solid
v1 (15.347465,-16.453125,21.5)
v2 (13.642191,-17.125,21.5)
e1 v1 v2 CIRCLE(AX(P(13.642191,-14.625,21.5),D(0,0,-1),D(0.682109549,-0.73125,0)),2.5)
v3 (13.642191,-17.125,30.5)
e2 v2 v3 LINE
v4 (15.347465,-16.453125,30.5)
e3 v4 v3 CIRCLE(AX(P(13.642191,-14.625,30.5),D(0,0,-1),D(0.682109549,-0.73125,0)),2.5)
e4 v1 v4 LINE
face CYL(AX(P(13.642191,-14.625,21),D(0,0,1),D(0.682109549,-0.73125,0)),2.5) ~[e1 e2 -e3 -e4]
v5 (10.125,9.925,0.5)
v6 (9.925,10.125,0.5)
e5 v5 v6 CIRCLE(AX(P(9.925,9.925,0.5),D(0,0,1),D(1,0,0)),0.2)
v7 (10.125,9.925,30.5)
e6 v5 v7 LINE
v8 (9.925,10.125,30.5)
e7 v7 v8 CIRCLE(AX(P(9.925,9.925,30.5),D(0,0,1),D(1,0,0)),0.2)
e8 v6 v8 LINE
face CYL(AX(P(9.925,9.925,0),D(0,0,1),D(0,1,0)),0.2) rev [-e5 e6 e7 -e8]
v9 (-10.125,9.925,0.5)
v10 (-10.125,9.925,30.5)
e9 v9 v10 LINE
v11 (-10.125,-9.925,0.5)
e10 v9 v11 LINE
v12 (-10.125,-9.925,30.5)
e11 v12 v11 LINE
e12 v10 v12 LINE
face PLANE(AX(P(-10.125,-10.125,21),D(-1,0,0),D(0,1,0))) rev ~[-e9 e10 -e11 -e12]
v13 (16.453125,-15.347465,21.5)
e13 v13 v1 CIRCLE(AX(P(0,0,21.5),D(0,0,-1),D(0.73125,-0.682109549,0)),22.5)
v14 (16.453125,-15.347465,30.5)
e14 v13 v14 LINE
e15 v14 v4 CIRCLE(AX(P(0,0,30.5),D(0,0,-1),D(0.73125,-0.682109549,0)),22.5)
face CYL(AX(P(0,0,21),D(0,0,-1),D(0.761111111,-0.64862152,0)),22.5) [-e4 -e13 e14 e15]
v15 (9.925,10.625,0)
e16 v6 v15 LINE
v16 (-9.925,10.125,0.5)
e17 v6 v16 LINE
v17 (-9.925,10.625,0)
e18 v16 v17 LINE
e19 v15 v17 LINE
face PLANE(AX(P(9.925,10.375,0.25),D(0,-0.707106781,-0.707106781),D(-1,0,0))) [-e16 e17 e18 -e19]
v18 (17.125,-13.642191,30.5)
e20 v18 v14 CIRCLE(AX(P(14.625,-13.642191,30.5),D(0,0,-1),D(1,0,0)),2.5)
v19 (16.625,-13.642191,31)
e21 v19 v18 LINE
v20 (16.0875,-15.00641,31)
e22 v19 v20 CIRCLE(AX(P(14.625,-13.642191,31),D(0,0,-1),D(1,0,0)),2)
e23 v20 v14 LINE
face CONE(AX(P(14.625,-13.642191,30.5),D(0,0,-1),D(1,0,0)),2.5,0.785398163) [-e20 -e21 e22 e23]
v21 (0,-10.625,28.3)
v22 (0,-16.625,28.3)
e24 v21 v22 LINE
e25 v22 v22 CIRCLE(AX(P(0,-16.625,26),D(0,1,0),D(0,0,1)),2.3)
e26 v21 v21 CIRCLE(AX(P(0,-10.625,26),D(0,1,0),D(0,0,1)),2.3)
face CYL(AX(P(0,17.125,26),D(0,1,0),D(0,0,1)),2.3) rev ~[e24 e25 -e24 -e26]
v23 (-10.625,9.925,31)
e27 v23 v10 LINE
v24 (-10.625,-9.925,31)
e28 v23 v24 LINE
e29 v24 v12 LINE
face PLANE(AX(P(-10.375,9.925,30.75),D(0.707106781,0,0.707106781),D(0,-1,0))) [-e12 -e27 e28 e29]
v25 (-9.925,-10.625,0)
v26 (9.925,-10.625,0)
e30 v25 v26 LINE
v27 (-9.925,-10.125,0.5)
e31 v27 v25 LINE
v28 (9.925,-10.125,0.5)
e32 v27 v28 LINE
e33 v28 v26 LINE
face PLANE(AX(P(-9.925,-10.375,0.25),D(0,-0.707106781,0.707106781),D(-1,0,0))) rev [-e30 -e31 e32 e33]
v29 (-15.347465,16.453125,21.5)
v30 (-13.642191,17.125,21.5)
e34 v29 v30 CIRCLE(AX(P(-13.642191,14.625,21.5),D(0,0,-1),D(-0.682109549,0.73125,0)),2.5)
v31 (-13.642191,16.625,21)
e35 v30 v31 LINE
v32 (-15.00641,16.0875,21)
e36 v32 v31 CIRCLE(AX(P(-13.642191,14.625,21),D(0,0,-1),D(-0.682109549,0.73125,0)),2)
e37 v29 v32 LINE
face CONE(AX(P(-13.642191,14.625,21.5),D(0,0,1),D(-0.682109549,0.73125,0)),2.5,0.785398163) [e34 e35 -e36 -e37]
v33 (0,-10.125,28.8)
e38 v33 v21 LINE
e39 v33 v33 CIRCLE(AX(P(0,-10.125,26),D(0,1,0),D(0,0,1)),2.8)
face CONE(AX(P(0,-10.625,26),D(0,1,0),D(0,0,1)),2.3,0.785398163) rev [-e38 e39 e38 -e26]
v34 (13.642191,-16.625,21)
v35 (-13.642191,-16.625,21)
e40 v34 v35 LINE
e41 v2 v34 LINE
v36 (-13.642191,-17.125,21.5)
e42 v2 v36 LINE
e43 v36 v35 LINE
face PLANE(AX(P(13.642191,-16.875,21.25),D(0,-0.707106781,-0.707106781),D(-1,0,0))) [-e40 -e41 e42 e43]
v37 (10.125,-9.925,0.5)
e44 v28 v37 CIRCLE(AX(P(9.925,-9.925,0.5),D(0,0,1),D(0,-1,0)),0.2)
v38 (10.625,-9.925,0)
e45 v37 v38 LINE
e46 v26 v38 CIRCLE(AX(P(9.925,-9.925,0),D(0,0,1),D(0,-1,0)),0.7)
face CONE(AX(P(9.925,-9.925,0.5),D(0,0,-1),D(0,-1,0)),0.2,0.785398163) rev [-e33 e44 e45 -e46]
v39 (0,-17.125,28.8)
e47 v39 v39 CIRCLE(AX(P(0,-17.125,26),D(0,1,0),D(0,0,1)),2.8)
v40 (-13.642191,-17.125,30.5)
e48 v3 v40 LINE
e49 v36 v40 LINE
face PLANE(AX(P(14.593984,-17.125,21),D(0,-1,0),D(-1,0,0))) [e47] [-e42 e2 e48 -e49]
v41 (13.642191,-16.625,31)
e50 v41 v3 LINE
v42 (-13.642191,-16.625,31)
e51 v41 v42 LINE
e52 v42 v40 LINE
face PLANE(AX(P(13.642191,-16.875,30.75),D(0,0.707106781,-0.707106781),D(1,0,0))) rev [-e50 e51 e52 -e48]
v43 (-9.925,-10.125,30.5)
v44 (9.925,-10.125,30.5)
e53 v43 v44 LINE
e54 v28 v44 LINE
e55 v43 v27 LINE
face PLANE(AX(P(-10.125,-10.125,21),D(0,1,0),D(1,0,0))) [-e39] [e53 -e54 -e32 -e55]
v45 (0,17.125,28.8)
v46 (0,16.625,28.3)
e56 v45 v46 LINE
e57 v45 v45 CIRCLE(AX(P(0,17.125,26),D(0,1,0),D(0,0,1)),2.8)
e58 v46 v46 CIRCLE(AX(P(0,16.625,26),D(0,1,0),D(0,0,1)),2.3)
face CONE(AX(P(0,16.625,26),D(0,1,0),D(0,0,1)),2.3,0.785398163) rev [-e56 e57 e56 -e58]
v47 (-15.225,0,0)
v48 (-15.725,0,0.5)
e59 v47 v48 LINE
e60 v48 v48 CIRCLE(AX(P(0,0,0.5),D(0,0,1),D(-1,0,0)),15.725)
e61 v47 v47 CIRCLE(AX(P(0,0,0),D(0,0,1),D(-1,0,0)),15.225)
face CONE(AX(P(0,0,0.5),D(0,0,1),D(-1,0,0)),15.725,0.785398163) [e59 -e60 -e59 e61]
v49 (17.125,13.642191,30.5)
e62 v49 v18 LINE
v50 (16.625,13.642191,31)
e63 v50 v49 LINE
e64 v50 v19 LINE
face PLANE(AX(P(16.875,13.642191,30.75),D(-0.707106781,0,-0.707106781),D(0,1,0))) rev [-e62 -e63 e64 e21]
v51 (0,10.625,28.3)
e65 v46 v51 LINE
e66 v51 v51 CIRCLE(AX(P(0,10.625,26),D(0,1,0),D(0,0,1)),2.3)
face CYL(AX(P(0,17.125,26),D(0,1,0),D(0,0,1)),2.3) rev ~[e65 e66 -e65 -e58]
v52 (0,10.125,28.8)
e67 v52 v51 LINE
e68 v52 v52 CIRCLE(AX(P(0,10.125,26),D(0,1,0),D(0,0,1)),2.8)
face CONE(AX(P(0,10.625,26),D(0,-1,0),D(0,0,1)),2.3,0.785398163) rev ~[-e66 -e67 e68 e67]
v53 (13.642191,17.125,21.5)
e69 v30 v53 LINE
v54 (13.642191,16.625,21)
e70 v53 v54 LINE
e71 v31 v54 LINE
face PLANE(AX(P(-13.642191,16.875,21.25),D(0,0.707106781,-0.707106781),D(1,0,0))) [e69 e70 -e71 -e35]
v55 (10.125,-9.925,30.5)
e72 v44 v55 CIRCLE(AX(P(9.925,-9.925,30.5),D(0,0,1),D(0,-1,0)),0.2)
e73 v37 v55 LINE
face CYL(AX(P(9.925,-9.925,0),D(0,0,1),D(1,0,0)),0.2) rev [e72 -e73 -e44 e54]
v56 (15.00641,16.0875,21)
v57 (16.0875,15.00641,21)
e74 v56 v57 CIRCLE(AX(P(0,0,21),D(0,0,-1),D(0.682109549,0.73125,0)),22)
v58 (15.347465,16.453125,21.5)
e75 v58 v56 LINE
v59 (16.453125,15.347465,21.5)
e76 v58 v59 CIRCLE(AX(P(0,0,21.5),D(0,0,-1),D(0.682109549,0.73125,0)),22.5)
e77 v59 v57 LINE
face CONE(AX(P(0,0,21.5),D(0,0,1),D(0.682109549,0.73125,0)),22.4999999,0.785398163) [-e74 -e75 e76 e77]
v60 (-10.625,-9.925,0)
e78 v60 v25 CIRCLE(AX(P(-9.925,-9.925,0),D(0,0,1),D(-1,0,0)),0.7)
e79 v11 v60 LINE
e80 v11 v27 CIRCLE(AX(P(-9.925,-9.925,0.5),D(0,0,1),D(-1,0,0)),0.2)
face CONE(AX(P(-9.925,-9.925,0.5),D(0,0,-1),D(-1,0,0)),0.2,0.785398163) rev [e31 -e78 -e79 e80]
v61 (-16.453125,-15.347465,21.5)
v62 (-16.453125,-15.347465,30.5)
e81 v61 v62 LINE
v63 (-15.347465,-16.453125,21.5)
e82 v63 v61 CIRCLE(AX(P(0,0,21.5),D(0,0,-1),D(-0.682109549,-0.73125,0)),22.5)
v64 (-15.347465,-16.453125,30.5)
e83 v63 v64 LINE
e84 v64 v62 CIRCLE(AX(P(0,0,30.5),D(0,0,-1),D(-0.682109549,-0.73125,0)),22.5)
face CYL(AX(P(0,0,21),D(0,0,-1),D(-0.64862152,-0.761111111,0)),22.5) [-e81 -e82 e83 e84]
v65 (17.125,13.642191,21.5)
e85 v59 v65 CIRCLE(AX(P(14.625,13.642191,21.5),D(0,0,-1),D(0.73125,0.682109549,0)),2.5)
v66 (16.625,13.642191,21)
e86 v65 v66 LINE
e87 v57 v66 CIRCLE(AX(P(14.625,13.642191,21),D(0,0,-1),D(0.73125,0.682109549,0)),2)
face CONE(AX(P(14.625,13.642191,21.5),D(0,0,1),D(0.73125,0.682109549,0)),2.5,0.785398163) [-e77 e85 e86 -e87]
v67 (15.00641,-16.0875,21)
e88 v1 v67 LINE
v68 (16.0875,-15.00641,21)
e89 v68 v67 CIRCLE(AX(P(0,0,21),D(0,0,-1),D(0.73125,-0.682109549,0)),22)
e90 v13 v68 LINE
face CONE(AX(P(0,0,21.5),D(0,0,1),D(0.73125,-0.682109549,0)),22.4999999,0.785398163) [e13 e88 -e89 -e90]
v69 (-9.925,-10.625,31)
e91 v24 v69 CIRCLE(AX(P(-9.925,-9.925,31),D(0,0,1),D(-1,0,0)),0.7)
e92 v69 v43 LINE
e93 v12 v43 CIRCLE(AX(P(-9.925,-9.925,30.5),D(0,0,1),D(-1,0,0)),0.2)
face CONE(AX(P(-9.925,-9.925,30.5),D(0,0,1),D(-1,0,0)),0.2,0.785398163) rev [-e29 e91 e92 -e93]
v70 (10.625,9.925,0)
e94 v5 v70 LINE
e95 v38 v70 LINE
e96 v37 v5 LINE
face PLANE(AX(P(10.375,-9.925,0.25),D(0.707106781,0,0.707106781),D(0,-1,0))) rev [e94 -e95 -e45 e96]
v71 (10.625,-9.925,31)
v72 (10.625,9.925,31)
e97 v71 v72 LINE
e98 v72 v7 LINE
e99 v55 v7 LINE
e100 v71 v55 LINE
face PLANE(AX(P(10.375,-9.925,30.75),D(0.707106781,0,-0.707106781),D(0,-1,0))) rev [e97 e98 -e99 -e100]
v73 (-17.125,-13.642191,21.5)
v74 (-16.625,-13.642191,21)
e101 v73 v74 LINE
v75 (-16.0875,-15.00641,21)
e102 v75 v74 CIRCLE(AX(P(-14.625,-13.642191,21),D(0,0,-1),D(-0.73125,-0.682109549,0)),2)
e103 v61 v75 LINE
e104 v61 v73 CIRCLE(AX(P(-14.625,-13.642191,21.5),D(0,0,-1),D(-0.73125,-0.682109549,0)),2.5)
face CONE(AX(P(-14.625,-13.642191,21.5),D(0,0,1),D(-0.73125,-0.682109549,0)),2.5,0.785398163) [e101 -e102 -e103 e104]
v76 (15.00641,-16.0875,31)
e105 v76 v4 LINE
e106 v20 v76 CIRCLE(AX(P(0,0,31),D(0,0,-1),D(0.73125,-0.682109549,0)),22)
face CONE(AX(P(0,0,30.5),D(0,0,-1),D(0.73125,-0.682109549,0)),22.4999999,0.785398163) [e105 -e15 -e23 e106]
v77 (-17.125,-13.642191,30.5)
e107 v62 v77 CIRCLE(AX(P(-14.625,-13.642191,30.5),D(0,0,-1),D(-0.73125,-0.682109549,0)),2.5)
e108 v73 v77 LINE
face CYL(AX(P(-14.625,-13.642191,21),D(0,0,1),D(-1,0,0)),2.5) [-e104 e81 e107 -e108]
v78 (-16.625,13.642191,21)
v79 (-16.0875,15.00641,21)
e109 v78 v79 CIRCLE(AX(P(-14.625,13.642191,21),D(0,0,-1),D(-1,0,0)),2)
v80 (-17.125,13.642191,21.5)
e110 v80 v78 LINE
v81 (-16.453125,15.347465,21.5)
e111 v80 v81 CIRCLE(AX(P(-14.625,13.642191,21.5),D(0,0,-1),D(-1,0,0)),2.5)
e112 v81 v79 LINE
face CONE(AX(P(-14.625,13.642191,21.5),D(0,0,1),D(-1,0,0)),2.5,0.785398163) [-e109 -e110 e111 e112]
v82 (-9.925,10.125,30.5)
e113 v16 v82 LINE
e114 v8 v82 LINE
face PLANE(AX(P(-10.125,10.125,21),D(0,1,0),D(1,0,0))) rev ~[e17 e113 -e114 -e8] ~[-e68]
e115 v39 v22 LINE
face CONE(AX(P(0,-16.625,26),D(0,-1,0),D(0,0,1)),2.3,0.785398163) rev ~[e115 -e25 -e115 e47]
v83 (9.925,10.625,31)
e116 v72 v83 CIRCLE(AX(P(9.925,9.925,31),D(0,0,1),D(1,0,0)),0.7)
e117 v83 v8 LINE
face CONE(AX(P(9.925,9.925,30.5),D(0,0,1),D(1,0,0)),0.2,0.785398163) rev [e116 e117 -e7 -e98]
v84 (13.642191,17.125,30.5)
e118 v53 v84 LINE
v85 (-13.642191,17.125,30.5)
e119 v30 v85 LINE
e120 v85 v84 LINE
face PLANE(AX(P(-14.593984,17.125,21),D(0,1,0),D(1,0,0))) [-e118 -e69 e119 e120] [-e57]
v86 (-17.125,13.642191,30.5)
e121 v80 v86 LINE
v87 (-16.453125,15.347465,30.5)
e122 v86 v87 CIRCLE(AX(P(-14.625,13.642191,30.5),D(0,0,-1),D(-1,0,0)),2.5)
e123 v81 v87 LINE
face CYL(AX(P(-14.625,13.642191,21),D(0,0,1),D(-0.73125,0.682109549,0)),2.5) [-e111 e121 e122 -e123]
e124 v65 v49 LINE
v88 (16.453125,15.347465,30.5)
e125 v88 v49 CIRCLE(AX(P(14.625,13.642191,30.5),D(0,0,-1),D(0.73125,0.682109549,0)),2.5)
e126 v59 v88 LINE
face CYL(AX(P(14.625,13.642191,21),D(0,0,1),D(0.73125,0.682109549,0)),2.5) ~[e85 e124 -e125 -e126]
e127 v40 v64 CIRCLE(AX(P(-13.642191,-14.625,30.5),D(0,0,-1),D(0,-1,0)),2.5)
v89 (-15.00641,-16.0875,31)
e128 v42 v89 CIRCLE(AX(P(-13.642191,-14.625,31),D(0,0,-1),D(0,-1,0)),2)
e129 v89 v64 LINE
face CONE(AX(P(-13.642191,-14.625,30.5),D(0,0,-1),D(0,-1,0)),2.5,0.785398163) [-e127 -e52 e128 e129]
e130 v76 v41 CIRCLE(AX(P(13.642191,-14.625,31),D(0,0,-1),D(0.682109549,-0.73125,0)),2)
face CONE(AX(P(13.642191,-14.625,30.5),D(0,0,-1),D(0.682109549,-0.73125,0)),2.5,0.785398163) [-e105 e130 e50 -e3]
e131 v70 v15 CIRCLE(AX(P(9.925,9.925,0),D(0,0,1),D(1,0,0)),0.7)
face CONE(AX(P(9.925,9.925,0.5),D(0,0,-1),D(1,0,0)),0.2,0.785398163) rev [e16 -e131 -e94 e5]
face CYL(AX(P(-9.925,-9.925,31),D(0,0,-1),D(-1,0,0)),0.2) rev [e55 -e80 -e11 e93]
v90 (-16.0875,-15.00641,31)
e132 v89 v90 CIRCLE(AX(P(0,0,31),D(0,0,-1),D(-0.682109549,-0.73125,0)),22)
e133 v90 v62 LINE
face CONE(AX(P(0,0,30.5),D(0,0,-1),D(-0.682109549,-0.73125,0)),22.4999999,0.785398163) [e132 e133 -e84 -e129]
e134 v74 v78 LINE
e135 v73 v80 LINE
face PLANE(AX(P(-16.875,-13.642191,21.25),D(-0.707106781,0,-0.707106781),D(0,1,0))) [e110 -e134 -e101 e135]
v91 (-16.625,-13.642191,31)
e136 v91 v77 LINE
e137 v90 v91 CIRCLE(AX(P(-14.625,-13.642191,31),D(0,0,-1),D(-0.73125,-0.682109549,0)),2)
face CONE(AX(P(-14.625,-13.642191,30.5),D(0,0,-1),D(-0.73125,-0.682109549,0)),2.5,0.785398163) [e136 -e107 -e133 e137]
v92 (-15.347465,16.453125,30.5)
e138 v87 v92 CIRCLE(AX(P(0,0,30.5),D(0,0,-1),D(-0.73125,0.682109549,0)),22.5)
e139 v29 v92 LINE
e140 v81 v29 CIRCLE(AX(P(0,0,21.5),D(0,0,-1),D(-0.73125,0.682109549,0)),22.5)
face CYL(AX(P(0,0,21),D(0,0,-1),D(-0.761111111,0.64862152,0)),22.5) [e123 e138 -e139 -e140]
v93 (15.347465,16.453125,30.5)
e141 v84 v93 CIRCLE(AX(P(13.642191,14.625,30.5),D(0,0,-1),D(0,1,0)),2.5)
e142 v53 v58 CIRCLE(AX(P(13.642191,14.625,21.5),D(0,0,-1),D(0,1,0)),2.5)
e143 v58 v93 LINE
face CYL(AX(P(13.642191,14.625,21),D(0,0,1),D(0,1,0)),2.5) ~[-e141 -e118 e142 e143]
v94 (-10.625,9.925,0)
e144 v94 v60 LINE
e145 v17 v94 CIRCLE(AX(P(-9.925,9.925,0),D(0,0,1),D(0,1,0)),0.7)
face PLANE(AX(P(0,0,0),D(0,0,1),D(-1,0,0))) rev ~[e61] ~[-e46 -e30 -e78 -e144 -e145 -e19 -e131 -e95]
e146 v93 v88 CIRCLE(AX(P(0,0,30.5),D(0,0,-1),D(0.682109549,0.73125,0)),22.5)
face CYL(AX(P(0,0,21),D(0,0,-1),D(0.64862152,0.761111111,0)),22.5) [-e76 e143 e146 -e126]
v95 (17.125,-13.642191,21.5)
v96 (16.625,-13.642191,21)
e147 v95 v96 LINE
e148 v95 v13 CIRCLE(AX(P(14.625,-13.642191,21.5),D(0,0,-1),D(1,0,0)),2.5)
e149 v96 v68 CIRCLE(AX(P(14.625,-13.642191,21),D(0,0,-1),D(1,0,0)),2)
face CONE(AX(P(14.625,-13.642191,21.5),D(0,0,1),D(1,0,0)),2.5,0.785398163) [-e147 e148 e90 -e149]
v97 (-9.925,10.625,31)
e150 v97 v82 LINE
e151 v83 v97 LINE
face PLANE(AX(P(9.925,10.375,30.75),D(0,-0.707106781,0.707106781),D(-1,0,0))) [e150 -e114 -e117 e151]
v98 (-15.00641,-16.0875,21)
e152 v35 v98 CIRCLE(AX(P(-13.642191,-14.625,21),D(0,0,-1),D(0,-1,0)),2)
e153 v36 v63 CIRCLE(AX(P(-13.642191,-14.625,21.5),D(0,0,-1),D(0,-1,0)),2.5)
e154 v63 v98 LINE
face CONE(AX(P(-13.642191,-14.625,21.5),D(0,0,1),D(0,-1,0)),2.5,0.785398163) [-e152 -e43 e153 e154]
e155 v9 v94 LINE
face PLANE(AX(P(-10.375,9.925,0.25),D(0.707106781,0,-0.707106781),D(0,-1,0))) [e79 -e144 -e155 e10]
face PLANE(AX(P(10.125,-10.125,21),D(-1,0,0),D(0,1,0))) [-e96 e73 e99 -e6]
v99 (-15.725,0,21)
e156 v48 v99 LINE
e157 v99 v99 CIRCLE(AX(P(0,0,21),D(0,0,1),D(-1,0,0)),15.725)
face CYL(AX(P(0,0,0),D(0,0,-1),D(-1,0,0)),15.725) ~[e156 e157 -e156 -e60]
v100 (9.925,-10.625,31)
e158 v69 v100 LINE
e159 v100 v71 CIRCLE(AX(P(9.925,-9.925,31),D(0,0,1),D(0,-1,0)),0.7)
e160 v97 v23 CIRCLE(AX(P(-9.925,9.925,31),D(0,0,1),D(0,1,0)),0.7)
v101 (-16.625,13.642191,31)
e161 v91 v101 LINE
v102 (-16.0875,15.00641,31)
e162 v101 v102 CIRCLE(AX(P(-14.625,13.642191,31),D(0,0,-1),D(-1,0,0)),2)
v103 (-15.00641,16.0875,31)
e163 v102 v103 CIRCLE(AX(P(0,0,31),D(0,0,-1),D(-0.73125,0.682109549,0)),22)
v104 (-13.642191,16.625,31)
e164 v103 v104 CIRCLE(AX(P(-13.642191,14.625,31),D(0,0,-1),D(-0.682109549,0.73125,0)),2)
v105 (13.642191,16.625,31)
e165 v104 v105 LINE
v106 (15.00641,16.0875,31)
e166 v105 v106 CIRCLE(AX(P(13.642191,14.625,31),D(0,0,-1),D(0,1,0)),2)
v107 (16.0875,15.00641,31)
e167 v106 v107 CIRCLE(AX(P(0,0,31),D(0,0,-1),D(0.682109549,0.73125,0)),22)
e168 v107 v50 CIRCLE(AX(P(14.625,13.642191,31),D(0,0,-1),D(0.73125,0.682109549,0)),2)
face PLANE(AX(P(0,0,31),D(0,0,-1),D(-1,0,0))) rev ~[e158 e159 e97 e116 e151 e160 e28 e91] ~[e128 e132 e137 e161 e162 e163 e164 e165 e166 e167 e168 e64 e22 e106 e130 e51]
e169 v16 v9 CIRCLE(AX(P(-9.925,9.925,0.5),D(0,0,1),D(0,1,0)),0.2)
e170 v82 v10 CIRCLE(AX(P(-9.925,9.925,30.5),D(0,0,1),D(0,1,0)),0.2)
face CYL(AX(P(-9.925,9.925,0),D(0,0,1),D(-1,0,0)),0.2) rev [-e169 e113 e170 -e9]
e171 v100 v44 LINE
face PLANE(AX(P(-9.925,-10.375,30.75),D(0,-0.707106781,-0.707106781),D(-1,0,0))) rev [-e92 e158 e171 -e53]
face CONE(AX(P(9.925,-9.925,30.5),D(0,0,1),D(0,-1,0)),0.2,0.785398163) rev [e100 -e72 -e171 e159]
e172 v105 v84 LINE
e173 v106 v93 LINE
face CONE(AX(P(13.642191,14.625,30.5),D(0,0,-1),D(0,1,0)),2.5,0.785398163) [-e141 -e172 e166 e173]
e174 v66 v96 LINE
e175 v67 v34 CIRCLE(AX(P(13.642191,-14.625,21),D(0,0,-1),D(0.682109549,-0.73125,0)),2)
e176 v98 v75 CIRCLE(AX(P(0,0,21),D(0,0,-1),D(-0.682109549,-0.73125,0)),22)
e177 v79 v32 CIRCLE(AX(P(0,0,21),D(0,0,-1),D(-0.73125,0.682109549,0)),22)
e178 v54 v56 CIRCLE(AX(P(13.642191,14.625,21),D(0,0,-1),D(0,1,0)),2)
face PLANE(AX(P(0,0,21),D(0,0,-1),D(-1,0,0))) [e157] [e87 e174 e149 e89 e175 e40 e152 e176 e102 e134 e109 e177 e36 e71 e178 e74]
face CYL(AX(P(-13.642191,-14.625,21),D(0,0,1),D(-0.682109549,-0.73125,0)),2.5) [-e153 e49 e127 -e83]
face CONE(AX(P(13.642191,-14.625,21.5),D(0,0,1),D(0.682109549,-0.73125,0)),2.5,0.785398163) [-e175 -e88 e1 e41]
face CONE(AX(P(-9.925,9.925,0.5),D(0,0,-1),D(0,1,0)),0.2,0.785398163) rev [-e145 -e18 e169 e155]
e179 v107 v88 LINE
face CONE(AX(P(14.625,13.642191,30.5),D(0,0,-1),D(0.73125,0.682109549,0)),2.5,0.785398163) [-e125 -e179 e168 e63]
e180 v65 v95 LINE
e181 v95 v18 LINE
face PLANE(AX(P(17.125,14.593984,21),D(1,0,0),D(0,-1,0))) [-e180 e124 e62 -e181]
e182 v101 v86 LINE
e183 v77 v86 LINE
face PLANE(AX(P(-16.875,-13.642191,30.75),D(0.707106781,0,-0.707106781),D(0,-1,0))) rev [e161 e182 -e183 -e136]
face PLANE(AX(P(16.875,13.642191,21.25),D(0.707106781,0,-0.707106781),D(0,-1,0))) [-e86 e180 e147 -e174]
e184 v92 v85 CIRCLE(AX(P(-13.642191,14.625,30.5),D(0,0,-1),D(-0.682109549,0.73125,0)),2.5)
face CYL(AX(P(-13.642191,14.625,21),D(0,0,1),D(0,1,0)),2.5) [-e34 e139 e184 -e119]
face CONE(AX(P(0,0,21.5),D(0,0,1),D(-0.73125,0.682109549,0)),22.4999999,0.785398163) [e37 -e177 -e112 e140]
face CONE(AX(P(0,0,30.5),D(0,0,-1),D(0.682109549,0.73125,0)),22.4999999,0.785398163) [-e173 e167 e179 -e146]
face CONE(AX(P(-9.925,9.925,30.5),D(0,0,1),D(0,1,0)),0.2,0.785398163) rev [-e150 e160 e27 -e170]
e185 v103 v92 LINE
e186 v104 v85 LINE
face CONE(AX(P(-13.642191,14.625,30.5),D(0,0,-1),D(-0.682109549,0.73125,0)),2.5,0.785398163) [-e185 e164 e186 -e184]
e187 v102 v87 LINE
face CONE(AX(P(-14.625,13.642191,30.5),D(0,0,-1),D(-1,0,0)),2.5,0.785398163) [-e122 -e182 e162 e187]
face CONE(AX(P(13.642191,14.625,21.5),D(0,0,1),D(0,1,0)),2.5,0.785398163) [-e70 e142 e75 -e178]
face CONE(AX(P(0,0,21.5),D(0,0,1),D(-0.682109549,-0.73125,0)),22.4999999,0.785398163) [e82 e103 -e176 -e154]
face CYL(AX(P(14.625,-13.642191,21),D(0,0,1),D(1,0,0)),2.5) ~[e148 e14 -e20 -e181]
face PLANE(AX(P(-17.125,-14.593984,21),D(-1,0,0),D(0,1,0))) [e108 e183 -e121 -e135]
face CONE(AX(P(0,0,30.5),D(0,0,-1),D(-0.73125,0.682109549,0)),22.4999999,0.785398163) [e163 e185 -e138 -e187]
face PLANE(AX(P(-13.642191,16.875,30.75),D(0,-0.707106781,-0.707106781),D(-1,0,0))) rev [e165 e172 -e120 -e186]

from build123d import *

# Parameters (mm, degrees)
SKIZZE1_R                       = 15.725
SKIZZE1_W                       = 20.25
SKIZZE1_H                       = 20.25
AUFSATZ_LINEAR_AUSTRAGEN1_DEPTH = 21
SKIZZE2_W                       = 20.25
SKIZZE2_H                       = 20.25
AUFSATZ_LINEAR_AUSTRAGEN2_DEPTH = 10
SKIZZE3_R                       = 2.3
SCHNITT_LINEAR_AUSTRAGEN1_DEPTH = 50.267921866
VERRUNDUNG1_R                   = 0.2
VERRUNDUNG2_R                   = 2.5
FASE1_SIZE                      = 0.5
FASE4_SIZE                      = 0.5


with BuildPart() as part:
    # Skizze1 → Aufsatz-Linear austragen1 (new body)
    with BuildSketch(Plane.XY):
        with Locations(Location((0, 0, 0), (0, 0, 180))):
            Circle(SKIZZE1_R)
        Rectangle(SKIZZE1_W, SKIZZE1_H, mode=Mode.SUBTRACT)
    extrude(amount=AUFSATZ_LINEAR_AUSTRAGEN1_DEPTH)

    # Skizze2 → Aufsatz-Linear austragen2 (add)
    with BuildSketch(Plane.XY.offset(21)):
        with BuildLine():
            Line((-14.593984206, 17.125), (14.593984206, 17.125))
            ThreePointArc((14.593984206, 17.125), (15.909902577, 15.909902577), (17.125, 14.593984206))
            Line((17.125, 14.593984206), (17.125, -14.593984206))
            ThreePointArc((17.125, -14.593984206), (15.909902577, -15.909902577), (14.593984206, -17.125))
            Line((14.593984206, -17.125), (-14.593984206, -17.125))
            ThreePointArc((-14.593984206, -17.125), (-15.909902577, -15.909902577), (-17.125, -14.593984206))
            Line((-17.125, -14.593984206), (-17.125, 14.593984206))
            ThreePointArc((-17.125, 14.593984206), (-15.909902577, 15.909902577), (-14.593984206, 17.125))
        make_face()
        Rectangle(SKIZZE2_W, SKIZZE2_H, mode=Mode.SUBTRACT)
    extrude(amount=AUFSATZ_LINEAR_AUSTRAGEN2_DEPTH)

    # Skizze3 → Schnitt-Linear austragen1 (cut, through all)
    with BuildSketch(Plane(origin=(0, 17.125, 0), x_dir=(1, 0, 0), z_dir=(0, 1, 0))):
        with Locations(Location((0, -26, 0), (0, 0, 270))):
            Circle(SKIZZE3_R)
    extrude(amount=-SCHNITT_LINEAR_AUSTRAGEN1_DEPTH, mode=Mode.SUBTRACT)

    # Verrundung1
    verrundung1_edges = [part.edges().sort_by_distance(p)[0] for p in [
        (10.125, -10.125, 15.5),
        (10.125, 10.125, 15.5),
        (-10.125, 10.125, 15.5),
        (-10.125, -10.125, 15.5),
    ]]
    fillet(verrundung1_edges, radius=VERRUNDUNG1_R)

    # Verrundung2
    verrundung2_edges = [part.edges().sort_by_distance(p)[0] for p in [
        (-14.593984206, 17.125, 26),
        (-17.125, 14.593984206, 26),
        (-17.125, -14.593984206, 26),
        (-14.593984206, -17.125, 26),
        (14.593984206, -17.125, 26),
        (17.125, -14.593984206, 26),
        (17.125, 14.593984206, 26),
        (14.593984206, 17.125, 26),
    ]]
    fillet(verrundung2_edges, radius=VERRUNDUNG2_R)

    # Fase1
    fase1_edges = [part.edges().sort_by_distance(p)[0] for p in [
        (0, 17.125, 31),
        (-14.558620883, 16.950974258, 31),
        (-16.950974258, 14.558620883, 31),
        (14.558620883, 16.950974258, 31),
        (16.950974258, 14.558620883, 31),
        (16.950974258, -14.558620883, 31),
        (14.558620883, -16.950974258, 31),
        (-14.558620883, -16.950974258, 31),
        (-16.950974258, -14.558620883, 31),
        (15.725, 0, 0),
        (0, -10.125, 23.7),
        (0, 10.125, 23.7),
        (0, -17.125, 23.7),
        (0, 17.125, 23.7),
        (0, -10.125, 0),
        (0, -10.125, 31),
        (10.125, 0, 0),
        (10.125, 0, 31),
        (-10.125, 0, 0),
        (-10.125, 0, 31),
        (0, 10.125, 0),
        (0, 10.125, 31),
        (10.066421356, -10.066421356, 0),
        (10.066421356, -10.066421356, 31),
        (-10.066421356, -10.066421356, 0),
        (-10.066421356, -10.066421356, 31),
        (-10.066421356, 10.066421356, 0),
        (-10.066421356, 10.066421356, 31),
        (10.066421356, 10.066421356, 0),
        (10.066421356, 10.066421356, 31),
        (-15.909902577, -15.909902577, 31),
        (-17.125, 0, 31),
        (-15.909902577, 15.909902577, 31),
        (0, -17.125, 31),
        (15.909902577, -15.909902577, 31),
        (17.125, 0, 31),
        (15.909902577, 15.909902577, 31),
    ]]
    chamfer(fase1_edges, length=FASE1_SIZE)

    # Fase4
    fase4_edges = [part.edges().sort_by_distance(p)[0] for p in [
        (-15.909902577, -15.909902577, 21),
        (-15.909902577, 15.909902577, 21),
        (0, 17.125, 21),
        (15.909902577, 15.909902577, 21),
        (17.125, 0, 21),
        (15.909902577, -15.909902577, 21),
        (0, -17.125, 21),
        (-17.125, 0, 21),
        (-14.558620883, 16.950974258, 21),
        (-16.950974258, 14.558620883, 21),
        (14.558620883, 16.950974258, 21),
        (16.950974258, 14.558620883, 21),
        (16.950974258, -14.558620883, 21),
        (14.558620883, -16.950974258, 21),
        (-14.558620883, -16.950974258, 21),
        (-16.950974258, -14.558620883, 21),
    ]]
    chamfer(fase4_edges, length=FASE4_SIZE)


solid = part.part
